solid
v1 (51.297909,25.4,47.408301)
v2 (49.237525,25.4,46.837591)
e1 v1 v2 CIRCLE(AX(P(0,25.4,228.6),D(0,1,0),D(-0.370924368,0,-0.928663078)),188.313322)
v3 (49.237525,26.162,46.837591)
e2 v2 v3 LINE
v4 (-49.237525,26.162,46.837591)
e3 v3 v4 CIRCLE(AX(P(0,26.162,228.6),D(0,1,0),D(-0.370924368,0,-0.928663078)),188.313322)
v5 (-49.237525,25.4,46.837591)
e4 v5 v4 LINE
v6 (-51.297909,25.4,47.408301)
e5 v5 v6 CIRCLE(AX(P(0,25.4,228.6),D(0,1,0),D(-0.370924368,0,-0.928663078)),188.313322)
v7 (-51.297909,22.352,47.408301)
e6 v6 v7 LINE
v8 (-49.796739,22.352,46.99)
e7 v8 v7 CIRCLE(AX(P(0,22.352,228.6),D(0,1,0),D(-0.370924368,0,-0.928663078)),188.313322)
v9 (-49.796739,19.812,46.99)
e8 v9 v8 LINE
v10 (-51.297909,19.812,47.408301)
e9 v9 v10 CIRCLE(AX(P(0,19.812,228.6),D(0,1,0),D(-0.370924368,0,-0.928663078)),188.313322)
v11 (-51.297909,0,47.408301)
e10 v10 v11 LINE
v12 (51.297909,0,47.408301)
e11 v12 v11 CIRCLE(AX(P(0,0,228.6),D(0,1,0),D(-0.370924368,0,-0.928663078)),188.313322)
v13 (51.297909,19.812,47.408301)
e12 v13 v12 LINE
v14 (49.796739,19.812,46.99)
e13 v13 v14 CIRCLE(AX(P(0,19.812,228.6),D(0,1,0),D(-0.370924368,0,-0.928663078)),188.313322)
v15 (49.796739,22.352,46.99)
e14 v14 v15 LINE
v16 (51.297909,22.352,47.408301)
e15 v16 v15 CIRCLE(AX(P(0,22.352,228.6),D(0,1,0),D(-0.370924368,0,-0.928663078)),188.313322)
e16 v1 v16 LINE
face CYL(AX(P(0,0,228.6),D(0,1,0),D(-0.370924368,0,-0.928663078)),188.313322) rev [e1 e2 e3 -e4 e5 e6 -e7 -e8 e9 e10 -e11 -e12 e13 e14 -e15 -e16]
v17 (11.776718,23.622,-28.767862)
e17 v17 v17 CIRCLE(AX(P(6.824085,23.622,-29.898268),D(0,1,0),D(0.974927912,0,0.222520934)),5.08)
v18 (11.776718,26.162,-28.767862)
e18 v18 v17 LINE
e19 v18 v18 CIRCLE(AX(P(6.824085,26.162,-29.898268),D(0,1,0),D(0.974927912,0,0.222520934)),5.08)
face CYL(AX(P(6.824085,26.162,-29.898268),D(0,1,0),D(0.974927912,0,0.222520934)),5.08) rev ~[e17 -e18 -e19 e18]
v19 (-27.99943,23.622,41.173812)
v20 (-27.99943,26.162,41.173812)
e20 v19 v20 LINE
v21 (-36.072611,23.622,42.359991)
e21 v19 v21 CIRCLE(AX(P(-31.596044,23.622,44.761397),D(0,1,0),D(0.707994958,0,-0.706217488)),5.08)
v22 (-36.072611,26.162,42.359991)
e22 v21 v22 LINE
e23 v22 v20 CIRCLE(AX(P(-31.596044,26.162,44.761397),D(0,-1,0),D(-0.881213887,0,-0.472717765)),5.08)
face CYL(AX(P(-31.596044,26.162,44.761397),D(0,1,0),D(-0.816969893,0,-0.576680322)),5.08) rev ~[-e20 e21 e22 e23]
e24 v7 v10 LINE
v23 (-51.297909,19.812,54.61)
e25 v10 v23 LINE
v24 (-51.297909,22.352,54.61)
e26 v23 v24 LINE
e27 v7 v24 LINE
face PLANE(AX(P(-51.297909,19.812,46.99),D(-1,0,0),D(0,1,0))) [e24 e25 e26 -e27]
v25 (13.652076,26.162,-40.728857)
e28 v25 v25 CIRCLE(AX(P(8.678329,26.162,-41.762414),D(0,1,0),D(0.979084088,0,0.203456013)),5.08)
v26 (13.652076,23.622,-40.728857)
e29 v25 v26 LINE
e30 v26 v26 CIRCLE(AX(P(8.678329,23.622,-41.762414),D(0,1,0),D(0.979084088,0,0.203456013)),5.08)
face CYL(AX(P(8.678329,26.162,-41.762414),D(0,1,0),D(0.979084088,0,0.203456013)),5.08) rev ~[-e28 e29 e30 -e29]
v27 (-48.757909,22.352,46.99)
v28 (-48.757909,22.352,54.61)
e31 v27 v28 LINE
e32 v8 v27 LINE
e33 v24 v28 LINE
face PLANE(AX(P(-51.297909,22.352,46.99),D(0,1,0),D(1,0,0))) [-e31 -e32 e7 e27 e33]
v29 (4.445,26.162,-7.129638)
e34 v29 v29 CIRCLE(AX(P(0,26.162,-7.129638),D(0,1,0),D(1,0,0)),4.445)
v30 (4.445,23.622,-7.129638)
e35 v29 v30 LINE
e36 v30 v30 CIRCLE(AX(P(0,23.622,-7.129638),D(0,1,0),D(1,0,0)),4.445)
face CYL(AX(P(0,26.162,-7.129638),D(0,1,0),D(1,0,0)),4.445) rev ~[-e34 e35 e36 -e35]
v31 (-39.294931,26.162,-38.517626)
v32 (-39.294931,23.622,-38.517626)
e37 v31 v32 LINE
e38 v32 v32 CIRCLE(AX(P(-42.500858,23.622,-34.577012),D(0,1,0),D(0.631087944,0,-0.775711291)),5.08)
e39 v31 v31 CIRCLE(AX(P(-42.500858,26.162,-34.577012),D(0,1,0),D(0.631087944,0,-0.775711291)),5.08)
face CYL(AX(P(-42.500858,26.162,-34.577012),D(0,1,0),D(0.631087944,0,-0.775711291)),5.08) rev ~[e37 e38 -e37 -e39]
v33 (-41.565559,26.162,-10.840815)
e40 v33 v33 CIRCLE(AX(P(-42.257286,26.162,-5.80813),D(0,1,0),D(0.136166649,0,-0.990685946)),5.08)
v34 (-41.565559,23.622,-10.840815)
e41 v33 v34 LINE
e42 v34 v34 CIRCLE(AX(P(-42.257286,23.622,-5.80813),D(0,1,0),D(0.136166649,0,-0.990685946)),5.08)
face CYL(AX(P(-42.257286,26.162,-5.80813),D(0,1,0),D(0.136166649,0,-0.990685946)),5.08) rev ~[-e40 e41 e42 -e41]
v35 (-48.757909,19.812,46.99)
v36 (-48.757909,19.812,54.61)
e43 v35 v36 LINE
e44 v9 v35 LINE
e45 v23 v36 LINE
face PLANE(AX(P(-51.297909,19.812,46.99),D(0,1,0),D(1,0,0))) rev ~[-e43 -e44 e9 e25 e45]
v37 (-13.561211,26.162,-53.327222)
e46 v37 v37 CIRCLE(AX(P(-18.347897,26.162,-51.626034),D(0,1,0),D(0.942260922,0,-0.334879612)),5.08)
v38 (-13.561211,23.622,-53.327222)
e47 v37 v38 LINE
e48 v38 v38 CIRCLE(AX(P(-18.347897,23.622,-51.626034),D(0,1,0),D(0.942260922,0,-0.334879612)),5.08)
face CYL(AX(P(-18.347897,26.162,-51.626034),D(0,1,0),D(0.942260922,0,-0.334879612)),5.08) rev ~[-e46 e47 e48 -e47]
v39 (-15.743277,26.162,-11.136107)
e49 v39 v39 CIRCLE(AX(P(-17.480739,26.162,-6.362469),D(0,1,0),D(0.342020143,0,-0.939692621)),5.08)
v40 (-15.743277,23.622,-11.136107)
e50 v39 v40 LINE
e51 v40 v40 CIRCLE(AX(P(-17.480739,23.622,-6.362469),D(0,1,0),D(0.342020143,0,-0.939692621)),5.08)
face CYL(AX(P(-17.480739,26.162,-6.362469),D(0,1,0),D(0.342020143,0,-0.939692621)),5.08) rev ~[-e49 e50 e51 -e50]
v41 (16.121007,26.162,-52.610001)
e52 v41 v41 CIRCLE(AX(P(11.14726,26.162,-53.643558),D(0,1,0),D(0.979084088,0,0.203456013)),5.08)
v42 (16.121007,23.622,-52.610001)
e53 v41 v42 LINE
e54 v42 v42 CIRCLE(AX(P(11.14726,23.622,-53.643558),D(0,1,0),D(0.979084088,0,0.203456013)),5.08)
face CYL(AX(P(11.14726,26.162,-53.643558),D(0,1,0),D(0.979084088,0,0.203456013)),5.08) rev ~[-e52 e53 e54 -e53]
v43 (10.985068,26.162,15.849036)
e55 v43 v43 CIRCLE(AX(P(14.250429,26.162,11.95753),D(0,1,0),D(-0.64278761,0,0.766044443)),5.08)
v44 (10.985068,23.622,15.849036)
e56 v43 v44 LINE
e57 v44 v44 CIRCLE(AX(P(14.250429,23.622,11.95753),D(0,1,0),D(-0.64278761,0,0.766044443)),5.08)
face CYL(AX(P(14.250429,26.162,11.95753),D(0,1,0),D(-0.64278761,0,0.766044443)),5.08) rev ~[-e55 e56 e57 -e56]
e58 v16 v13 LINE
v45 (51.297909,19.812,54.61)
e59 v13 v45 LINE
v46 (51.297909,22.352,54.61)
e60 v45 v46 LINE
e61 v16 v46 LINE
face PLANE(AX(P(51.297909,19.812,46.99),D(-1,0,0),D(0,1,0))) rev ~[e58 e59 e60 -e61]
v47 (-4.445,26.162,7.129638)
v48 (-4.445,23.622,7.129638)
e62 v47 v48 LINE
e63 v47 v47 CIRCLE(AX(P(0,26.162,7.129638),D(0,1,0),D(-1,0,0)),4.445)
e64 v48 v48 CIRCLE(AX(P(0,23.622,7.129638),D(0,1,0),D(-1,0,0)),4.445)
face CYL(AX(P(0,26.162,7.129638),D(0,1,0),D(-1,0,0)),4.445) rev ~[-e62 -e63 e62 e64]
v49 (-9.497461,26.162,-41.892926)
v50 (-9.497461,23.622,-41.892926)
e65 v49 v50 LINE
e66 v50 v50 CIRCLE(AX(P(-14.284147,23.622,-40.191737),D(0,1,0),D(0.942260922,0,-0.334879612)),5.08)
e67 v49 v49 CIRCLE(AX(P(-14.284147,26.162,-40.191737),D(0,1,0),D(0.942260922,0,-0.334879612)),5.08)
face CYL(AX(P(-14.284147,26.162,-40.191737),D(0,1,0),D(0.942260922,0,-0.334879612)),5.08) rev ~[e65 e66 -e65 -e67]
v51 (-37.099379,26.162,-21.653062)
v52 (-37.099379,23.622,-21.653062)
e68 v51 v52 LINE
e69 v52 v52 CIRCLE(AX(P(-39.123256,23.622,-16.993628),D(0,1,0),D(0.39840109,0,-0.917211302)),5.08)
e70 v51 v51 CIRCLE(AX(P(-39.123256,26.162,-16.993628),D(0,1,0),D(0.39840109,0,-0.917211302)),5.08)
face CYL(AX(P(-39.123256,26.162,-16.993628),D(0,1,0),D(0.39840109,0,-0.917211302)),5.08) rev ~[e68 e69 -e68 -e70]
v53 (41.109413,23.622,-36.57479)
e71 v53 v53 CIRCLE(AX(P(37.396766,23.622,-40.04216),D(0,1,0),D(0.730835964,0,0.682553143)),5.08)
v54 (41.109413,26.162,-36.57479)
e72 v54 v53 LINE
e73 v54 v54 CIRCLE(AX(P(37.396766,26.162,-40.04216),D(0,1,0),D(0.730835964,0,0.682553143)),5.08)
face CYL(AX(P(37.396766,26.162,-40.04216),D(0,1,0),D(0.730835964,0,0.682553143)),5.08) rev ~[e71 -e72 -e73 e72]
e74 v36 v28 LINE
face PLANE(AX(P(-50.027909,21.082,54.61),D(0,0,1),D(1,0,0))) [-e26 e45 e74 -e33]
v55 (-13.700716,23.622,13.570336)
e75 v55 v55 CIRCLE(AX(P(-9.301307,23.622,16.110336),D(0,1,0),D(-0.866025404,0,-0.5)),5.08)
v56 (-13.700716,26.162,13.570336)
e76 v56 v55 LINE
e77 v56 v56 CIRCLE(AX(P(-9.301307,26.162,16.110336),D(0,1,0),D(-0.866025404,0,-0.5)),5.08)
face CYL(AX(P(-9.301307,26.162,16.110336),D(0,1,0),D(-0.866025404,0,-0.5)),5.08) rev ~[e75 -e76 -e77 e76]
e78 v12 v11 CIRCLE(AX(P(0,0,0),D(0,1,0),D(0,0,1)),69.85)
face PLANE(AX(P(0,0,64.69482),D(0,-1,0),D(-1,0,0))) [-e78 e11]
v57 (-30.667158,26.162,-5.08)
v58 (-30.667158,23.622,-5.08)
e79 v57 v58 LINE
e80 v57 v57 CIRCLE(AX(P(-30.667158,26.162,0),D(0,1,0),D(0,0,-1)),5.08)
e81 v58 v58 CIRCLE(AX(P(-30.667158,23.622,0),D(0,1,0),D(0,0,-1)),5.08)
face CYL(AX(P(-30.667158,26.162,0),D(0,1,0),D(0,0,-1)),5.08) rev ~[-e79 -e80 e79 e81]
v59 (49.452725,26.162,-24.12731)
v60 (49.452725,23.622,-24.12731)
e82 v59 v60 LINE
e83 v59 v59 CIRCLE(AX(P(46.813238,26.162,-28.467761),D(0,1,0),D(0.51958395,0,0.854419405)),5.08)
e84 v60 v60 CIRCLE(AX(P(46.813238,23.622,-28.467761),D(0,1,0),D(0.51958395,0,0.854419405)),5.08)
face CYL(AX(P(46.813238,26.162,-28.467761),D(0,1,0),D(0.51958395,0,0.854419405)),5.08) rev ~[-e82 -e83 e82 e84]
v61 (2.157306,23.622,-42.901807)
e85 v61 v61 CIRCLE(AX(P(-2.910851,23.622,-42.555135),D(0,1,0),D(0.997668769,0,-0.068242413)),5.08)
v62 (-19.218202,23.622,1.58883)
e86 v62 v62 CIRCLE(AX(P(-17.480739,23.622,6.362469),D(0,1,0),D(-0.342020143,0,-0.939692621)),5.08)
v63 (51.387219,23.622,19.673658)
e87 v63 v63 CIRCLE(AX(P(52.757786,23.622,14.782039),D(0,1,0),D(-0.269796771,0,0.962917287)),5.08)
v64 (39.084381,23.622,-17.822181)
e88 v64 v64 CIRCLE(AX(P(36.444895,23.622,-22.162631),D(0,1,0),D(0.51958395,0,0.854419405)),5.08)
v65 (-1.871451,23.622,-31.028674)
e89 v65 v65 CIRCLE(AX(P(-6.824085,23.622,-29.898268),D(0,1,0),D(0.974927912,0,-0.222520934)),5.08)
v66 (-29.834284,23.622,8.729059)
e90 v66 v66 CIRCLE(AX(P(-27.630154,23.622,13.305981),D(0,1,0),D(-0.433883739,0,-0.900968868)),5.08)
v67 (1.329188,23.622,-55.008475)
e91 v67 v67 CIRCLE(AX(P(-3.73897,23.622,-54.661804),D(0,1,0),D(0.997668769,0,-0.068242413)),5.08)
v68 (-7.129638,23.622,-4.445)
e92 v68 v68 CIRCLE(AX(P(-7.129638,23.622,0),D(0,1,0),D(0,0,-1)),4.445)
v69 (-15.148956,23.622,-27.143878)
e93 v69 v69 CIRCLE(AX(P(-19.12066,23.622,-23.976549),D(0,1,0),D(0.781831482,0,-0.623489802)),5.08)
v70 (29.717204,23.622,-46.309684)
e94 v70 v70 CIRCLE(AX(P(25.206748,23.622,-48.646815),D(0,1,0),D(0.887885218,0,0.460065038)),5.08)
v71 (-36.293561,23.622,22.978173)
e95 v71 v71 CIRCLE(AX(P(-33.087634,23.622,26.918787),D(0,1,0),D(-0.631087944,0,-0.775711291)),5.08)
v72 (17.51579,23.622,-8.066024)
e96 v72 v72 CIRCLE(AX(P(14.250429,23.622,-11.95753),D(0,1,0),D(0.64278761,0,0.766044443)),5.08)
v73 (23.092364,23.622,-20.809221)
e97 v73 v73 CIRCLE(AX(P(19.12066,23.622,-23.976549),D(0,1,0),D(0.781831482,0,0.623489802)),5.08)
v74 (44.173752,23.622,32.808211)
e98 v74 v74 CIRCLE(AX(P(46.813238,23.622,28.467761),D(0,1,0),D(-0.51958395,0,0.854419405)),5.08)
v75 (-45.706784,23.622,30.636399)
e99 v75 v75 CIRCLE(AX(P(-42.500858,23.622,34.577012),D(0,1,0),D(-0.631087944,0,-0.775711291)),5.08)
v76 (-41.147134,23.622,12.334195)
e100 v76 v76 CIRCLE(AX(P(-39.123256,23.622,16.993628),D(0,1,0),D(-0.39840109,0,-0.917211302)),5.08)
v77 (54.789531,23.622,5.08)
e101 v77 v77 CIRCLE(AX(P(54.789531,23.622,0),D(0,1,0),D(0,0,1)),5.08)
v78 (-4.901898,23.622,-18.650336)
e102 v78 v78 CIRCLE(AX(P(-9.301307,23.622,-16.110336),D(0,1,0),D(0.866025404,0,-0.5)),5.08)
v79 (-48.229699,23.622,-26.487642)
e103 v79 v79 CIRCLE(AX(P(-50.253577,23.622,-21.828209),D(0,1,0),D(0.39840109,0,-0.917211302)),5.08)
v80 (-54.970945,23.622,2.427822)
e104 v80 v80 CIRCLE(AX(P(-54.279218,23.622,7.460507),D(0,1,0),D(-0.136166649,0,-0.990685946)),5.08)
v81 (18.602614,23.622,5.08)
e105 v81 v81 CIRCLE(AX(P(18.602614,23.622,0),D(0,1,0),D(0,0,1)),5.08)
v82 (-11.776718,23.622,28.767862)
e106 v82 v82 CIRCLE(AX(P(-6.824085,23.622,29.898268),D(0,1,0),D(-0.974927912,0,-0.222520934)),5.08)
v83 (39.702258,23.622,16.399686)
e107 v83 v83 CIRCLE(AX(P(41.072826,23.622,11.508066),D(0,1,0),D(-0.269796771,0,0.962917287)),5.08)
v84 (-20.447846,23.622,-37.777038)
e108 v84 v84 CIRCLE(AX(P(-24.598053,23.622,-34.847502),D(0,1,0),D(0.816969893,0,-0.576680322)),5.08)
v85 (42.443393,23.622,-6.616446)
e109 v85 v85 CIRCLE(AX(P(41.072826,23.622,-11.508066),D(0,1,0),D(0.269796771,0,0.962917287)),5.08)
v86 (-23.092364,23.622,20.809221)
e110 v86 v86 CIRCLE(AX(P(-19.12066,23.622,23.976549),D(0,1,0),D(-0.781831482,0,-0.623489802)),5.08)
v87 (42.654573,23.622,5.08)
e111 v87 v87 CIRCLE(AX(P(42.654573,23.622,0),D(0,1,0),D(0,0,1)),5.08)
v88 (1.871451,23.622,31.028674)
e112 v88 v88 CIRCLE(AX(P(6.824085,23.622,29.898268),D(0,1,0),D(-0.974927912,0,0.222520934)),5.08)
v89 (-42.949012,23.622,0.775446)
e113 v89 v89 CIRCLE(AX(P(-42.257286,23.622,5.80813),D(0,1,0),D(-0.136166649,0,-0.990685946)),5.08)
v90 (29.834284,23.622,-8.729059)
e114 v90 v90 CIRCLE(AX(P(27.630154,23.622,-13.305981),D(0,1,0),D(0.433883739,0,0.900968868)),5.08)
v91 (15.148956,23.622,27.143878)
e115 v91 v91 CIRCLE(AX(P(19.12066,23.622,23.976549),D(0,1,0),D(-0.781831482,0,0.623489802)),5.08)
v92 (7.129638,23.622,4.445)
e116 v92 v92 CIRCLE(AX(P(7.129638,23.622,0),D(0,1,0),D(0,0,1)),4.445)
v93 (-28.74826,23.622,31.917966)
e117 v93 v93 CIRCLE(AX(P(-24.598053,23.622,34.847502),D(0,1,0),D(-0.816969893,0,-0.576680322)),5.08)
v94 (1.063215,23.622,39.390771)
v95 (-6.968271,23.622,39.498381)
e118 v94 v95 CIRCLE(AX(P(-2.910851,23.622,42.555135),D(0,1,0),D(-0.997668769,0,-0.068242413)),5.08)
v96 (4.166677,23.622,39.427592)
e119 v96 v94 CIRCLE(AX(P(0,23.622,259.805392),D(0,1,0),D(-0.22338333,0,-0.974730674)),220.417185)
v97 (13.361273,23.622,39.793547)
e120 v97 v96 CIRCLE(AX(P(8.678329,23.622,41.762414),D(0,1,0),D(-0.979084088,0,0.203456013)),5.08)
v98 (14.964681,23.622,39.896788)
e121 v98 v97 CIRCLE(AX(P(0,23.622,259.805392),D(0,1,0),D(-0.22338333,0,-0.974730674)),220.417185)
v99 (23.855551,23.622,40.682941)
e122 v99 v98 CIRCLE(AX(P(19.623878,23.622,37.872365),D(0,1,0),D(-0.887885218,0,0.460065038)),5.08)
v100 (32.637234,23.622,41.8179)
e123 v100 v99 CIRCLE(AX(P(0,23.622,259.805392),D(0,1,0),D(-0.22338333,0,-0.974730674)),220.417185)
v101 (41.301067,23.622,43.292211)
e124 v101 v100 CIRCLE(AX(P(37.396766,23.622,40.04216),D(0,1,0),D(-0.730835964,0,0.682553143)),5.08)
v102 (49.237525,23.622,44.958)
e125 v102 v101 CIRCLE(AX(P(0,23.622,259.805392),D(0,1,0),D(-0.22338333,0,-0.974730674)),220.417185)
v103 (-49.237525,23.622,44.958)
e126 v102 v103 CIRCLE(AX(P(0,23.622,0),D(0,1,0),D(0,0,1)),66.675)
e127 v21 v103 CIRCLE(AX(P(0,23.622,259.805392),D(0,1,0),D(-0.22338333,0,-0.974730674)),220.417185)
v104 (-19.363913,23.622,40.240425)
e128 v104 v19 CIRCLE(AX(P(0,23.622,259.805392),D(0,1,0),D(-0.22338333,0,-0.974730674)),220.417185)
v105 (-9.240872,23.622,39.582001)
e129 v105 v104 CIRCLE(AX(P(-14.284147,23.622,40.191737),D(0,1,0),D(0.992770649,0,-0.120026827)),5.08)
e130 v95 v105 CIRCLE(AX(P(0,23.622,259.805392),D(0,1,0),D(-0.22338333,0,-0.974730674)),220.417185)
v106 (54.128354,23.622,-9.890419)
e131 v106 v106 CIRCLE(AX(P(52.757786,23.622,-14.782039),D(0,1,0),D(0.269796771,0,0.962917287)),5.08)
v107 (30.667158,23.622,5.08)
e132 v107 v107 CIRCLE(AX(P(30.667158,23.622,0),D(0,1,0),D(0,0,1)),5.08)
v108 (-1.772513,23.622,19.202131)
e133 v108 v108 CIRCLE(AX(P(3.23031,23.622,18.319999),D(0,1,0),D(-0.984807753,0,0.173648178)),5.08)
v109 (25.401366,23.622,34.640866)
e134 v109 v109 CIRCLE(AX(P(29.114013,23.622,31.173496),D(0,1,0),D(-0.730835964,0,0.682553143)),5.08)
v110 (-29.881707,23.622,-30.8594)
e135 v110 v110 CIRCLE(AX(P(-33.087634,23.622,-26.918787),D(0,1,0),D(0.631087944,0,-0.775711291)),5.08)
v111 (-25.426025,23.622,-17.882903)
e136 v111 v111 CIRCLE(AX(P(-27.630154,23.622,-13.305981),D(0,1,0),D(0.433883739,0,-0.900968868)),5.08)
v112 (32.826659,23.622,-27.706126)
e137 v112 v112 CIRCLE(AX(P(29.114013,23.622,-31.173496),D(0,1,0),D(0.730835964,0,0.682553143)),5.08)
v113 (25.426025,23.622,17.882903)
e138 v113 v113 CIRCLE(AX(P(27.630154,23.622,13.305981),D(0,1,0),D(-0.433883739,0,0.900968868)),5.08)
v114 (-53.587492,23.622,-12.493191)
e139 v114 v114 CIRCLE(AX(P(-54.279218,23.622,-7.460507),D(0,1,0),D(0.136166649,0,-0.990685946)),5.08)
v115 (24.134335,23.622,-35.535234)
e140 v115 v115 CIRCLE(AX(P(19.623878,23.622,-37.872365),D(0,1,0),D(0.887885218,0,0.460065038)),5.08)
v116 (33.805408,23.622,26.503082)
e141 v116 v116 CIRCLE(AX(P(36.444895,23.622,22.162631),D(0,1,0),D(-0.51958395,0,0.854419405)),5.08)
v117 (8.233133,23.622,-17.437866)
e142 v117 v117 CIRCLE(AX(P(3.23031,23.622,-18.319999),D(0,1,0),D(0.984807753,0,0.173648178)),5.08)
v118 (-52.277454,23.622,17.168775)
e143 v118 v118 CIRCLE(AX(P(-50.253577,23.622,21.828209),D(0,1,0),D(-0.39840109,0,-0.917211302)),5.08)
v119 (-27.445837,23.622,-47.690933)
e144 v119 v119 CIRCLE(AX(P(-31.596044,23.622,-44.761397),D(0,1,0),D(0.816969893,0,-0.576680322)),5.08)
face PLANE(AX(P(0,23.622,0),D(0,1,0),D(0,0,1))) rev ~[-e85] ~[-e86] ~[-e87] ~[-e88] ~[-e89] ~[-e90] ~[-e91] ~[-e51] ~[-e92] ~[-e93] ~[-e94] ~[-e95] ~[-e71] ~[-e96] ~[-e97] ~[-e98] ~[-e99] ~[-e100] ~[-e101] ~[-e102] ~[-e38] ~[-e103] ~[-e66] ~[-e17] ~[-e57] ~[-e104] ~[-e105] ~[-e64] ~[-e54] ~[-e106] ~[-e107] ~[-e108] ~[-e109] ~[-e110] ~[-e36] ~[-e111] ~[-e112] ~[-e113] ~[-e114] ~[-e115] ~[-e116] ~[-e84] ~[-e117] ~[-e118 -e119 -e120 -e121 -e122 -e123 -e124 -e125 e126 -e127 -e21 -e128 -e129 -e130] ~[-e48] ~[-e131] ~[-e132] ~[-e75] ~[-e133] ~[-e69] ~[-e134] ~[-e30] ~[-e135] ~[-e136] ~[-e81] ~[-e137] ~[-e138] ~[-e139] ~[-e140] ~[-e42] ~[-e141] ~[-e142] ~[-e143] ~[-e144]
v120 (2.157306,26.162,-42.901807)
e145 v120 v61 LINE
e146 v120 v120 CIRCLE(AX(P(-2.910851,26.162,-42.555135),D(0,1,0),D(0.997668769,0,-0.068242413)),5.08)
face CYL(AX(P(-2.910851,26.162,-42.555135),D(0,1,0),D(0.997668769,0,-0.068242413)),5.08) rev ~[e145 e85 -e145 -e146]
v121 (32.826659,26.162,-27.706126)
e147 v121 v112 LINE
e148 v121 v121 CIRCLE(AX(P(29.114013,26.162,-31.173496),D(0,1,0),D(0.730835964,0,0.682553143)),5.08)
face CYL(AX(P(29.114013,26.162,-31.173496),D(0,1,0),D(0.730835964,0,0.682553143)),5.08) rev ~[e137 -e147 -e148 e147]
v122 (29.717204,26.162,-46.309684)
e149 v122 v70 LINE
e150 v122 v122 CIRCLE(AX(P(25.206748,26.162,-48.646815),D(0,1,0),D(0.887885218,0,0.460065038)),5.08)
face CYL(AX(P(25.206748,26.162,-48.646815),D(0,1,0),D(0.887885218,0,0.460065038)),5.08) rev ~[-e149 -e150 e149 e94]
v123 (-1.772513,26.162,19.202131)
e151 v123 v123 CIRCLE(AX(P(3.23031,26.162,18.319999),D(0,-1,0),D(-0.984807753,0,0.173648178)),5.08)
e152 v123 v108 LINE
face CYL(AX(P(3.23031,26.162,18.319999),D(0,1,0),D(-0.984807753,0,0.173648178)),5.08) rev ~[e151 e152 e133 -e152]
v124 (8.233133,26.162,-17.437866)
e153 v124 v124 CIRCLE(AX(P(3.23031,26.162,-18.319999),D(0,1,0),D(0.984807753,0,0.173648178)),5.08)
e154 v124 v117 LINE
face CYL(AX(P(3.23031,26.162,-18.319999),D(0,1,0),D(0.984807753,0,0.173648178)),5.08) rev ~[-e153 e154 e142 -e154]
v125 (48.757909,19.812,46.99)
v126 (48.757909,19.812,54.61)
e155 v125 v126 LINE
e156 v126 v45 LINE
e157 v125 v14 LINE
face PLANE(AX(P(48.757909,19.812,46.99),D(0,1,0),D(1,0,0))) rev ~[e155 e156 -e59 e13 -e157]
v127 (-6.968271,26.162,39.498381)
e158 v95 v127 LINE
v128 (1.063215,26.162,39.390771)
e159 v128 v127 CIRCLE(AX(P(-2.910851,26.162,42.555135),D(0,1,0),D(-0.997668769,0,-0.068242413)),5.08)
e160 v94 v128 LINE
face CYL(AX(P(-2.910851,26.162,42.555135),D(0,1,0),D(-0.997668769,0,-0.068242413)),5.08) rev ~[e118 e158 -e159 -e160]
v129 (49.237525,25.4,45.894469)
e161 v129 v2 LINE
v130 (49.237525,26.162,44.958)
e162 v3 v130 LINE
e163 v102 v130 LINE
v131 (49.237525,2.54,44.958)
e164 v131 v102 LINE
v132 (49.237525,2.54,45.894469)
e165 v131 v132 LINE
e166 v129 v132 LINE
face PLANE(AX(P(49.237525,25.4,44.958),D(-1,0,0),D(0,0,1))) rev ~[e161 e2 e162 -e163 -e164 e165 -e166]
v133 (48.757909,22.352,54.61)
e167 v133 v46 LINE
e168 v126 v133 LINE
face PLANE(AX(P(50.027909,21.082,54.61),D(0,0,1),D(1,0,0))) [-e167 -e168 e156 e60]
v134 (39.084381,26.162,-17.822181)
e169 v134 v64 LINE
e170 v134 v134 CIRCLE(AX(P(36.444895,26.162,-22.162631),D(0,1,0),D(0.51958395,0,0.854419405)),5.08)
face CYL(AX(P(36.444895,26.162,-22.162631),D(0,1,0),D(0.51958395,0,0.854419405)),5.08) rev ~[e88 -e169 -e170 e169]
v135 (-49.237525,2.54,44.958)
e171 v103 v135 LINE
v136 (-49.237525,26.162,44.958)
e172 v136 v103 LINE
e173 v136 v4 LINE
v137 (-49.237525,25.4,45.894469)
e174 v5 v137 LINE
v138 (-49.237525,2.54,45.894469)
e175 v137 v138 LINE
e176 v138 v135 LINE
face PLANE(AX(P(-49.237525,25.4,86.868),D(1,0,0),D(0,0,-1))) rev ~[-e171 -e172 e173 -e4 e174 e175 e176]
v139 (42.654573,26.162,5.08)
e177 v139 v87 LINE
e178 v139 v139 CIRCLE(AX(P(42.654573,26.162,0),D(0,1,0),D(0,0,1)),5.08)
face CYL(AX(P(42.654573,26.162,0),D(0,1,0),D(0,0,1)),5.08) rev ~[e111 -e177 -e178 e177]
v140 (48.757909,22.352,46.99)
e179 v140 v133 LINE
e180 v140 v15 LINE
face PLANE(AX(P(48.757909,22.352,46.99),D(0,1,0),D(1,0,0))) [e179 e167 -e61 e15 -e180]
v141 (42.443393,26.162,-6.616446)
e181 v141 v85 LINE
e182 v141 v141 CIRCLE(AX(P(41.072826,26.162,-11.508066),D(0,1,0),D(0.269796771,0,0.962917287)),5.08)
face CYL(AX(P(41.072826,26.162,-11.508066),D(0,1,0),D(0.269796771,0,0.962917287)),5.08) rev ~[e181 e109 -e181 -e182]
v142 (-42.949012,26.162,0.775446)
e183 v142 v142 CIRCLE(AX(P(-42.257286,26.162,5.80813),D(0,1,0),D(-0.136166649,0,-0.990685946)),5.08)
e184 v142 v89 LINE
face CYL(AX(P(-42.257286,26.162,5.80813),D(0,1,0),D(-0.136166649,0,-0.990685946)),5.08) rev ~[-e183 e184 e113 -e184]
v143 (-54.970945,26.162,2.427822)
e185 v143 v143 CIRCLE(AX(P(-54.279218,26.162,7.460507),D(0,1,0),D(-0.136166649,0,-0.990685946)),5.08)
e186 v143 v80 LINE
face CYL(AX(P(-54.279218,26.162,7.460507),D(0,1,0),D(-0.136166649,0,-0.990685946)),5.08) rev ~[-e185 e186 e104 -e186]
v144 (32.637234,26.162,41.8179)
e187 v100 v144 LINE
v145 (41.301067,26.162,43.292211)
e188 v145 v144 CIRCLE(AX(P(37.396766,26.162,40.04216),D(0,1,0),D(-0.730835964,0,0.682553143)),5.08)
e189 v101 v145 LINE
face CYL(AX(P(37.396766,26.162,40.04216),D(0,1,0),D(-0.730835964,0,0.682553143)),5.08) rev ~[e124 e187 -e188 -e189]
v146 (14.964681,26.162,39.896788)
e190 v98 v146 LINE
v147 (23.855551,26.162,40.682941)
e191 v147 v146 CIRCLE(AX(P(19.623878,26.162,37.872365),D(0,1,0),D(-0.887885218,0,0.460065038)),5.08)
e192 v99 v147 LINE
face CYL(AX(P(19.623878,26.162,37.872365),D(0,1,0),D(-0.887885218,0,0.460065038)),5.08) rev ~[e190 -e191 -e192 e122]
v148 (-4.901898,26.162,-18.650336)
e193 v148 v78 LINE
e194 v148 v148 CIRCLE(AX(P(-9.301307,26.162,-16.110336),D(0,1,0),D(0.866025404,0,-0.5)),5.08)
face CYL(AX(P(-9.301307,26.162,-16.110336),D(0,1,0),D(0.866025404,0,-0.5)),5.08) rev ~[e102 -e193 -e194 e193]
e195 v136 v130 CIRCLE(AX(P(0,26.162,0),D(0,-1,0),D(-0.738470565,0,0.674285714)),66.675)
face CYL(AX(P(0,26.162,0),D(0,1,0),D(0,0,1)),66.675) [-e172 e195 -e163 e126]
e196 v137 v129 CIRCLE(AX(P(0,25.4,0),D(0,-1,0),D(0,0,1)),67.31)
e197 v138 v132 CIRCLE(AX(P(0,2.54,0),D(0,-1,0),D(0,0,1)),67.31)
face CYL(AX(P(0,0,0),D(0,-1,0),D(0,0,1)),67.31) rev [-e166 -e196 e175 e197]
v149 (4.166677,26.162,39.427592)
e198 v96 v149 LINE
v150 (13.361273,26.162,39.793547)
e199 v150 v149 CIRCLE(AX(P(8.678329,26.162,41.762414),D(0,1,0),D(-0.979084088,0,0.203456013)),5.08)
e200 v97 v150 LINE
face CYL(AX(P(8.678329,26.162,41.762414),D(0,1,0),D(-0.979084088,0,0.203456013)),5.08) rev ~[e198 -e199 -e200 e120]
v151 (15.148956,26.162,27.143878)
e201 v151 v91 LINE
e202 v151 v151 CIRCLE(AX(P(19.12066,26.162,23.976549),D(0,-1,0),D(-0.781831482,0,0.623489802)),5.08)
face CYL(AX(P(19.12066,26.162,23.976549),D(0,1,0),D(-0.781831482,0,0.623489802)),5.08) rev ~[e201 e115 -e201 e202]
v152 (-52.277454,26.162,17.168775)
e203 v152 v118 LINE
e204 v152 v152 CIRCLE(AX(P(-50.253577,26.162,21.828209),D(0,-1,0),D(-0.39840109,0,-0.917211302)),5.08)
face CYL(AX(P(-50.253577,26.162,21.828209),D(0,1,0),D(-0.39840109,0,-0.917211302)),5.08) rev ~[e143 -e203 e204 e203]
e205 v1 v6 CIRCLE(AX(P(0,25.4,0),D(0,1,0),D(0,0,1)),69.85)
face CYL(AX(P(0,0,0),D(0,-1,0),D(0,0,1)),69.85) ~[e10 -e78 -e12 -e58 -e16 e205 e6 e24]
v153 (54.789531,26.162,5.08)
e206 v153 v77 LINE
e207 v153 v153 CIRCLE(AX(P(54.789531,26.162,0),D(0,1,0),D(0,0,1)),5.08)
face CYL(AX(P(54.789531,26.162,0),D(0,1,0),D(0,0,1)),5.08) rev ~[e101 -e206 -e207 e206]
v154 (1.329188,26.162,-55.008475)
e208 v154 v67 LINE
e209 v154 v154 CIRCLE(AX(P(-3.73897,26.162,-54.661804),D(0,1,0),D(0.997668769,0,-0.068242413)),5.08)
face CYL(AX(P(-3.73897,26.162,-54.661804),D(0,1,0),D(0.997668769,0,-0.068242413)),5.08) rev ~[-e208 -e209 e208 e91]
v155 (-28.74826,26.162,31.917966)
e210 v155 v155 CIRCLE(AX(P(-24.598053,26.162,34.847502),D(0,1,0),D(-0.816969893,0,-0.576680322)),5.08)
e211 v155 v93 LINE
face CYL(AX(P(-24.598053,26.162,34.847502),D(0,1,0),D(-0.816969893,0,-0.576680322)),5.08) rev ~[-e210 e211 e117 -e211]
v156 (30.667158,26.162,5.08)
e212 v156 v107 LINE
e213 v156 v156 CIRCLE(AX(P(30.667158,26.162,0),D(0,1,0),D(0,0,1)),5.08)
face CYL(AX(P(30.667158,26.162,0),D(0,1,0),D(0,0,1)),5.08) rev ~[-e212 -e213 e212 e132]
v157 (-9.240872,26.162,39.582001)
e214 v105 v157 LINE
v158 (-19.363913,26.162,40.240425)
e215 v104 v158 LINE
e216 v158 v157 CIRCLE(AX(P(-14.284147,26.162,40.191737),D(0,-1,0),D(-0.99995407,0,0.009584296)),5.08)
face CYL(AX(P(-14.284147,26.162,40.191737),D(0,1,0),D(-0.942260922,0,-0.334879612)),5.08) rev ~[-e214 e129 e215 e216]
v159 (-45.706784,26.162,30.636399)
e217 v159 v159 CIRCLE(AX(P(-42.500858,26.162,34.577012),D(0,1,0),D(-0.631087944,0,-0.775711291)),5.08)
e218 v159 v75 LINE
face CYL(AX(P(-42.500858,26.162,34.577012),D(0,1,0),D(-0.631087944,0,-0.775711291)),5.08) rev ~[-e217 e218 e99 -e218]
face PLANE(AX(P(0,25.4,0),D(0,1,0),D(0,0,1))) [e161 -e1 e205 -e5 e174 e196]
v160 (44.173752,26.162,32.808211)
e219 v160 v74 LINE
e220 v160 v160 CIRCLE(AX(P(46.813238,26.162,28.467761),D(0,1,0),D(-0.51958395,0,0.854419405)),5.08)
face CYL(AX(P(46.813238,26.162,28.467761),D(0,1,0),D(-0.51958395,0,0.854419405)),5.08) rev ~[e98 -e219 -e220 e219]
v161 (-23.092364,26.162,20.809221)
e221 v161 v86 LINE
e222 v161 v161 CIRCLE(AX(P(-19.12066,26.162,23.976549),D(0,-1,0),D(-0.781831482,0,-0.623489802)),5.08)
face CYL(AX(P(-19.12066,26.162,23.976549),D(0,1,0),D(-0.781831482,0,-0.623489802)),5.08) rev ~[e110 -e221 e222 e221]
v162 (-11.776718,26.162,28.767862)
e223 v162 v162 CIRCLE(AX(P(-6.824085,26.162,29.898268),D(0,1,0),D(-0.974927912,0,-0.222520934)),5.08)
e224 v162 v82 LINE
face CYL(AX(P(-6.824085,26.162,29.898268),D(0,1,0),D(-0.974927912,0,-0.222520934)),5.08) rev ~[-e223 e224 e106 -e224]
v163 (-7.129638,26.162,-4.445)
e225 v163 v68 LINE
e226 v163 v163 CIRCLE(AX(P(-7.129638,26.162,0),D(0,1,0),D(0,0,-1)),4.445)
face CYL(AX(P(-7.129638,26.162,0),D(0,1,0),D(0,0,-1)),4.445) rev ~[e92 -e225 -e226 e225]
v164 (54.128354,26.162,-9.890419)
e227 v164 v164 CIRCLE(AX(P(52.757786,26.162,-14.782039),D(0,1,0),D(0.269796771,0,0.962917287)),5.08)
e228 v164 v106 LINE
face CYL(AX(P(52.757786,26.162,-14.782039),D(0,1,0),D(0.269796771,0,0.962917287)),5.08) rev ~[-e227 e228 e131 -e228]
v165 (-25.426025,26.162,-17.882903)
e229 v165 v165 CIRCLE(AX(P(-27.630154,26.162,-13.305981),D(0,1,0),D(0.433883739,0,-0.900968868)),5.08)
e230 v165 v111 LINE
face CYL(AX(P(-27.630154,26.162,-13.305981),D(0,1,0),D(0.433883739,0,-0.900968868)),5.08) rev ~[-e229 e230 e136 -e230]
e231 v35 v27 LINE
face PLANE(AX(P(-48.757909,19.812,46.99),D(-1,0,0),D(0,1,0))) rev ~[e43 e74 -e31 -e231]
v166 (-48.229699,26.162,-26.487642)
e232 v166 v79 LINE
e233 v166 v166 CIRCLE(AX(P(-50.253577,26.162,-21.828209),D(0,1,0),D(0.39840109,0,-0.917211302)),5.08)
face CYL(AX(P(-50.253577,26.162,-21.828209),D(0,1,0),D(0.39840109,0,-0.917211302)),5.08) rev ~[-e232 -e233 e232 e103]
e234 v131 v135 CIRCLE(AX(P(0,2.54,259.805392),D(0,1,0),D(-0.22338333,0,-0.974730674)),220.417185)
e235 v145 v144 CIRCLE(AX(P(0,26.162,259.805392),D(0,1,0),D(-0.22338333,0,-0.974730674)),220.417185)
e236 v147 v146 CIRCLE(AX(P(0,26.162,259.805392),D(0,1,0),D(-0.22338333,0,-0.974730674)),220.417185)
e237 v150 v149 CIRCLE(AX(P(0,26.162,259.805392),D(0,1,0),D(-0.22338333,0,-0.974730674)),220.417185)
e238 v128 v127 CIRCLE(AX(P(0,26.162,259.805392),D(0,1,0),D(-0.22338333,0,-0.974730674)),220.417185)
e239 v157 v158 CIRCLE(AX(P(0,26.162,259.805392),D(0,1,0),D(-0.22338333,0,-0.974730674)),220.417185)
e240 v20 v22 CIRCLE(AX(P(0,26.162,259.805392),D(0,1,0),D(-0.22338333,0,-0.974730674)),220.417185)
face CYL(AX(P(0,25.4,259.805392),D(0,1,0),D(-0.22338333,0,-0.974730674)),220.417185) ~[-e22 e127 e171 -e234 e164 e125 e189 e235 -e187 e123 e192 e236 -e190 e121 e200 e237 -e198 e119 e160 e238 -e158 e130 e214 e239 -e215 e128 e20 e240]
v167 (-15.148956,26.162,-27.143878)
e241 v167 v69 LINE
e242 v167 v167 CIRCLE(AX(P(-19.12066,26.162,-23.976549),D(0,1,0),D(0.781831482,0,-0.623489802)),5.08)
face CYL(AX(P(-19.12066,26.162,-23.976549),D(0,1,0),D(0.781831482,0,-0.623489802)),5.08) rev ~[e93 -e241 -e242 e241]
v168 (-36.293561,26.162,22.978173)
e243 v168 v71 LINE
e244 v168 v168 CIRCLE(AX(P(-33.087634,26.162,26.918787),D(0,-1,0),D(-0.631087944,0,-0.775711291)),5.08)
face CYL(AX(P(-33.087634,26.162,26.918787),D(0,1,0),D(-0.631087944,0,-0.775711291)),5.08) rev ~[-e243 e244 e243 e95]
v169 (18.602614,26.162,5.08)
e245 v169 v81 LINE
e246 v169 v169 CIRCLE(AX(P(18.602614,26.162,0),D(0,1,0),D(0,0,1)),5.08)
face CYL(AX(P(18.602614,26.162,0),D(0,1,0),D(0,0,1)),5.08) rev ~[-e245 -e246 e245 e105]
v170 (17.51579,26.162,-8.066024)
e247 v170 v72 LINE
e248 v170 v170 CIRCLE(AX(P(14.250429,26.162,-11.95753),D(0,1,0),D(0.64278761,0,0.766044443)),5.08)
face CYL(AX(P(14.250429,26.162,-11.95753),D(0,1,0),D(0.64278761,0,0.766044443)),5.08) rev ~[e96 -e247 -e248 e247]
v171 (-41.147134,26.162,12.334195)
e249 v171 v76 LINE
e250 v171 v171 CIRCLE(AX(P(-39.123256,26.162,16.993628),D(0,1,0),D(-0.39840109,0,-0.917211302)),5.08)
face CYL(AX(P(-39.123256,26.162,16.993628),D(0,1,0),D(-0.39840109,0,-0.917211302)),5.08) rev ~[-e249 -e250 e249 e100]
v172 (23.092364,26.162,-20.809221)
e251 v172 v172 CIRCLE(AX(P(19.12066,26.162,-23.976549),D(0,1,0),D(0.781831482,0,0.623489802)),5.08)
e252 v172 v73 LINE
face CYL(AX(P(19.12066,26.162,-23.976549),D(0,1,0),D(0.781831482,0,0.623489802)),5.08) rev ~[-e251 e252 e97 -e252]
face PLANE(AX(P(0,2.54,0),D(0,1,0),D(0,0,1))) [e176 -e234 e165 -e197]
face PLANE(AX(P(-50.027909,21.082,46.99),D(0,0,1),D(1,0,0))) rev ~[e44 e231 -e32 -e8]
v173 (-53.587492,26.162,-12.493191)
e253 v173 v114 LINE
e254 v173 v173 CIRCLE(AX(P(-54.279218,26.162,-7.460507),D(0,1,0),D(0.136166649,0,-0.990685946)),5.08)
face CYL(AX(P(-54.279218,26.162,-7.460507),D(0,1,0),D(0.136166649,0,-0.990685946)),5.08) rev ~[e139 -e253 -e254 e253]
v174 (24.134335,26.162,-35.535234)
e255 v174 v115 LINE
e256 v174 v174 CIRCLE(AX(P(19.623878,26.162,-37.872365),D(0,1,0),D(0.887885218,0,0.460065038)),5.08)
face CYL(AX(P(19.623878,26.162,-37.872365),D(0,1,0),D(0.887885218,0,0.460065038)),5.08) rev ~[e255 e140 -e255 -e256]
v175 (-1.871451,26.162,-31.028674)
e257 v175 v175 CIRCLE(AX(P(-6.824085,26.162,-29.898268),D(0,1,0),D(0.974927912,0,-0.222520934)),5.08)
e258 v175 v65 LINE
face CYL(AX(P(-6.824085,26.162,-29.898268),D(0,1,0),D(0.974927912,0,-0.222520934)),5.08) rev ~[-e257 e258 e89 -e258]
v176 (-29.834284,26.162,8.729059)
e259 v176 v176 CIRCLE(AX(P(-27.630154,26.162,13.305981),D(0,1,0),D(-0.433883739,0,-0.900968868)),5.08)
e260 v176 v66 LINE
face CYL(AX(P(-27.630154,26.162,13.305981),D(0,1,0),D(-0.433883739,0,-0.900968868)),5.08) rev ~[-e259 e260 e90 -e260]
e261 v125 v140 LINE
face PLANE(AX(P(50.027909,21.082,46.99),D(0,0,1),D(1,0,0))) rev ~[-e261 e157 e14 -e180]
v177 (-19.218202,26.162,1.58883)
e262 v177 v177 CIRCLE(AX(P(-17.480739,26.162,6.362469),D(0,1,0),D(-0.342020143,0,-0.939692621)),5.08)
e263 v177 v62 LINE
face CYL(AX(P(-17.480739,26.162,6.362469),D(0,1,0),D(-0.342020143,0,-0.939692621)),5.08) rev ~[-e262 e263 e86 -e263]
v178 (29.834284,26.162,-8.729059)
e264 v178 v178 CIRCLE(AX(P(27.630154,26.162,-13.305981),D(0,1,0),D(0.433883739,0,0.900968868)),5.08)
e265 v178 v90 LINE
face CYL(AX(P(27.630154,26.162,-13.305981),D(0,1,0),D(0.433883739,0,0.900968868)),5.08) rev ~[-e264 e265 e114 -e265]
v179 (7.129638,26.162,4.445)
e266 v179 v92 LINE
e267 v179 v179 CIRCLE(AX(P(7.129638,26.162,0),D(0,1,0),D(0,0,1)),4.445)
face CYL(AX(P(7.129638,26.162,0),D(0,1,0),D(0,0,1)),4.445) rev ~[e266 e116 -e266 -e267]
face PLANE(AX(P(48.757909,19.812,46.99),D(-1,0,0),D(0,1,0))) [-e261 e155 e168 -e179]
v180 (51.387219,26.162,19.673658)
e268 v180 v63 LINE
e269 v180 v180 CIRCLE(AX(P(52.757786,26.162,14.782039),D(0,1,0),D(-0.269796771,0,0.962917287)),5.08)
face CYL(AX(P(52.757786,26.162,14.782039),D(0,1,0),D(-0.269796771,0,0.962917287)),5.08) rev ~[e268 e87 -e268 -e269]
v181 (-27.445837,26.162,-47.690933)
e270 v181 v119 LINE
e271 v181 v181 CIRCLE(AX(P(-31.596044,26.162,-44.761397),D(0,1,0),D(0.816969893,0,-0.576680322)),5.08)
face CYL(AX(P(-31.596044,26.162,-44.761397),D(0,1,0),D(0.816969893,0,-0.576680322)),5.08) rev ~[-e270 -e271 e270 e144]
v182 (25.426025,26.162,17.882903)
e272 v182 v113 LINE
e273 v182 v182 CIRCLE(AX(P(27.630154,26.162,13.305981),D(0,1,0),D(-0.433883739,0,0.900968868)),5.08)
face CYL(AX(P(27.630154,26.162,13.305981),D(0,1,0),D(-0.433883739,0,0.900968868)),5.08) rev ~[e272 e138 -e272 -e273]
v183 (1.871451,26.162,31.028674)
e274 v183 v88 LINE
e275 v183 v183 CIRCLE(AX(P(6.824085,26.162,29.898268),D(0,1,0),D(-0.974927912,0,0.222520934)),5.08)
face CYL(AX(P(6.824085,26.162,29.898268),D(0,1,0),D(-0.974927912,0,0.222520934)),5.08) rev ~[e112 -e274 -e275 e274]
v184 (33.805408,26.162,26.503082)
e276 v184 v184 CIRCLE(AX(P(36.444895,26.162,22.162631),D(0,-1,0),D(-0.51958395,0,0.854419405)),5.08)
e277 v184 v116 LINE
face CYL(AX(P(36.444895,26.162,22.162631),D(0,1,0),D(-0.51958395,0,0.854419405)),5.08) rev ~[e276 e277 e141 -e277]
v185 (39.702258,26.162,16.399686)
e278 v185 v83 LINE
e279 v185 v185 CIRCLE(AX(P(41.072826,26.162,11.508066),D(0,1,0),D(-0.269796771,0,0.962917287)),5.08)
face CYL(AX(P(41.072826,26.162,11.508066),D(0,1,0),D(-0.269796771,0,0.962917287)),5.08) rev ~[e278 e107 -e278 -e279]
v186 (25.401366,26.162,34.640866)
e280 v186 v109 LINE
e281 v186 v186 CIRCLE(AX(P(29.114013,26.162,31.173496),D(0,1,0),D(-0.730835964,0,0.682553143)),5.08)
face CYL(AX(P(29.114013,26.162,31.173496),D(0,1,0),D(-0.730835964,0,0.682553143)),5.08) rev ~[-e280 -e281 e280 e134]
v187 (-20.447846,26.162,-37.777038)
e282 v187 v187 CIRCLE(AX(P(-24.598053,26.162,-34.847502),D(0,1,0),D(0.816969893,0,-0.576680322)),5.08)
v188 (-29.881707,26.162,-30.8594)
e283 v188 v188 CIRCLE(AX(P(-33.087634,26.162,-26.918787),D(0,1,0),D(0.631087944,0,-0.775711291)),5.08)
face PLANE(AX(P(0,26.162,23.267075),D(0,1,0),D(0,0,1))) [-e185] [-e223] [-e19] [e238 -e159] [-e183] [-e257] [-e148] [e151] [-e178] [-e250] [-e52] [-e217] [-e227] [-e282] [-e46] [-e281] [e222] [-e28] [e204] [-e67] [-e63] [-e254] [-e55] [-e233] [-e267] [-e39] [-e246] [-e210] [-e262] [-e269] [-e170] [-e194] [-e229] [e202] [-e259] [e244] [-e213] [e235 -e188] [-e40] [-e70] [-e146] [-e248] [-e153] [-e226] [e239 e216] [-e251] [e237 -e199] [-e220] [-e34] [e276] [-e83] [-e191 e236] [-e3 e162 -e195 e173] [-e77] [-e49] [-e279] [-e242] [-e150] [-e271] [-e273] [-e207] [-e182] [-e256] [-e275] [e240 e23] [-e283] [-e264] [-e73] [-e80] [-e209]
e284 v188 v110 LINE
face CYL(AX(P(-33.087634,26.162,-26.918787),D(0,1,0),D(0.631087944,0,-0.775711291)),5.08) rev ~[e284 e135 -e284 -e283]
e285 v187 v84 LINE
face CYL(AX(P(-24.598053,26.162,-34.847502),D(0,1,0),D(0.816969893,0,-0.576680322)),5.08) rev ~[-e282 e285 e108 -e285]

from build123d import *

# Parameters (mm, degrees)
SKETCH1_R           = 69.85
BODY_DEPTH          = 25.4
SHELL1_T            = -2.54
SKETCH3_R           = 66.675
PLATE_DEPTH         = 2.54
SKETCH5_R           = 5.08
CUT_EXTRUDE2_DEPTH  = 2.54
CIRPATTERN1_COUNT   = 23
SKETCH6_R           = 5.08
CUT_EXTRUDE3_DEPTH  = 2.54
CIRPATTERN2_COUNT   = 14
SKETCH7_R           = 5.08
CUT_EXTRUDE4_DEPTH  = 2.54
CIRPATTERN3_COUNT   = 9
SKETCH8_R           = 4.445
CUT_EXTRUDE5_DEPTH  = 2.54
CIRPATTERN4_COUNT   = 4
BOSS_EXTRUDE1_DEPTH = 25.4
CIRCLE_CUT_DEPTH    = 63.5
CUT_EXTRUDE6_DEPTH  = 63.5
SKETCH12_W          = 2.54
SKETCH12_H          = 2.54
CONNECTORS_DEPTH    = 7.62


with BuildPart() as part:
    # Sketch1 → Body (new body)
    with BuildSketch(Plane(origin=(0, 0, 0), x_dir=(1, 0, 0), z_dir=(0, 1, 0))):
        with Locations(Location((0, 0, 0), (0, 0, 270))):
            Circle(SKETCH1_R)
    extrude(amount=BODY_DEPTH)

    # Shell1
    shell1_openings = [part.faces().sort_by_distance(p)[0] for p in [
        (0, 25.4, 0),
    ]]
    offset(amount=SHELL1_T, openings=shell1_openings, kind=Kind.INTERSECTION)



with BuildPart() as body_2:
    # Sketch3 → plate (new body)
    with BuildSketch(Plane(origin=(0, 26.162, 0), x_dir=(1, 0, 0), z_dir=(0, 1, 0))):
        with Locations(Location((0, 0, 0), (0, 0, 270))):
            Circle(SKETCH3_R)
    extrude(amount=-PLATE_DEPTH)

    # Sketch5 → Cut-Extrude2 (cut)
    with BuildSketch(Plane(origin=(0, 26.162, 0), x_dir=(1, 0, 0), z_dir=(0, 1, 0))):
        with Locations(Location((54.789530839, 0, 0), (0, 0, 270))):
            Circle(SKETCH5_R)
        with Locations(Location((42.654572856, 0, 0), (0, 0, 270))):
            Circle(SKETCH5_R)
    cut_extrude2 = extrude(amount=-CUT_EXTRUDE2_DEPTH, mode=Mode.SUBTRACT)

    # CirPattern1: Cut-Extrude2 ×23 about axis
    cirpattern1_axis = Axis((0, 0, 0), (0, 1, 0))
    for i in range(1, CIRPATTERN1_COUNT):
        add(cut_extrude2.rotate(cirpattern1_axis, i * 360 / CIRPATTERN1_COUNT), mode=Mode.SUBTRACT)

    # Sketch6 → Cut-Extrude3 (cut)
    with BuildSketch(Plane(origin=(0, 26.162, 0), x_dir=(1, 0, 0), z_dir=(0, 1, 0))):
        with Locations(Location((30.667157657, 0, 0), (0, 0, 270))):
            Circle(SKETCH6_R)
    cut_extrude3 = extrude(amount=-CUT_EXTRUDE3_DEPTH, mode=Mode.SUBTRACT)

    # CirPattern2: Cut-Extrude3 ×14 about axis
    cirpattern2_axis = Axis((0, 0, 0), (0, 1, 0))
    for i in range(1, CIRPATTERN2_COUNT):
        add(cut_extrude3.rotate(cirpattern2_axis, i * 360 / CIRPATTERN2_COUNT), mode=Mode.SUBTRACT)

    # Sketch7 → Cut-Extrude4 (cut)
    with BuildSketch(Plane(origin=(0, 26.162, 0), x_dir=(1, 0, 0), z_dir=(0, 1, 0))):
        with Locations(Location((18.602614166, 0, 0), (0, 0, 270))):
            Circle(SKETCH7_R)
    cut_extrude4 = extrude(amount=-CUT_EXTRUDE4_DEPTH, mode=Mode.SUBTRACT)

    # CirPattern3: Cut-Extrude4 ×9 about axis
    cirpattern3_axis = Axis((0, 0, 0), (0, 1, 0))
    for i in range(1, CIRPATTERN3_COUNT):
        add(cut_extrude4.rotate(cirpattern3_axis, i * 360 / CIRPATTERN3_COUNT), mode=Mode.SUBTRACT)

    # Sketch8 → Cut-Extrude5 (cut)
    with BuildSketch(Plane(origin=(0, 26.162, 0), x_dir=(1, 0, 0), z_dir=(0, 1, 0))):
        with Locations(Location((7.129637739, 0, 0), (0, 0, 270))):
            Circle(SKETCH8_R)
    cut_extrude5 = extrude(amount=-CUT_EXTRUDE5_DEPTH, mode=Mode.SUBTRACT)

    # CirPattern4: Cut-Extrude5 ×4 about axis
    cirpattern4_axis = Axis((0, 0, 0), (0, 1, 0))
    for i in range(1, CIRPATTERN4_COUNT):
        add(cut_extrude5.rotate(cirpattern4_axis, i * 360 / CIRPATTERN4_COUNT), mode=Mode.SUBTRACT)


with BuildPart() as part_1:
    add(part.part)

    add(body_2.part)  # Boss-Extrude1 merges body 2
    # Sketch13 → Boss-Extrude1 (add, symmetric)
    with BuildSketch(Plane(origin=(0, 25.4, 0), x_dir=(1, 0, 0), z_dir=(0, 1, 0))):
        with BuildLine():
            Line((49.237524928, -86.868), (-49.237524928, -86.868))
            Line((-49.237524928, -86.868), (-49.237524928, -44.958))
            ThreePointArc((-49.237524928, -44.958), (0, -39.388206386), (49.237524928, -44.958))
            Line((49.237524928, -44.958), (49.237524928, -86.868))
        make_face()
    extrude(amount=BOSS_EXTRUDE1_DEPTH, both=True)

    # Sketch9 → circle cut (cut, symmetric)
    with BuildSketch(Plane(origin=(0, 0, 0), x_dir=(1, 0, 0), z_dir=(0, 1, 0))):
        with BuildLine():
            Line((69.85, -86.892577), (-69.85, -86.892577))
            Line((-69.85, -86.892577), (-69.85, -53.720370546))
            ThreePointArc((-69.85, -53.720370546), (0, -40.286677853), (69.85, -53.720370546))
            Line((69.85, -53.720370546), (69.85, -86.892577))
        make_face()
    extrude(amount=CIRCLE_CUT_DEPTH, both=True, mode=Mode.SUBTRACT)

    # Sketch14 → Cut-Extrude6 (cut, symmetric)
    with BuildSketch(Plane(origin=(0, 0, 0), x_dir=(0, 0, -1), z_dir=(1, 0, 0))):
        Polygon((-23.267075151, 26.162), (-48.667075151, 26.162), (-48.667075151, 52.593802599), (-39.427592482, 52.593802599), align=None)
    extrude(amount=CUT_EXTRUDE6_DEPTH, both=True, mode=Mode.SUBTRACT)

    # Sketch12 → connectors (add)
    with BuildSketch(Plane.XY.offset(46.99)):
        with Locations((-50.027909309, 21.082)):
            Rectangle(SKETCH12_W, SKETCH12_H)
        with Locations((50.027909309, 21.082)):
            Rectangle(SKETCH12_W, SKETCH12_H)
    extrude(amount=CONNECTORS_DEPTH)


solid = part_1.part
